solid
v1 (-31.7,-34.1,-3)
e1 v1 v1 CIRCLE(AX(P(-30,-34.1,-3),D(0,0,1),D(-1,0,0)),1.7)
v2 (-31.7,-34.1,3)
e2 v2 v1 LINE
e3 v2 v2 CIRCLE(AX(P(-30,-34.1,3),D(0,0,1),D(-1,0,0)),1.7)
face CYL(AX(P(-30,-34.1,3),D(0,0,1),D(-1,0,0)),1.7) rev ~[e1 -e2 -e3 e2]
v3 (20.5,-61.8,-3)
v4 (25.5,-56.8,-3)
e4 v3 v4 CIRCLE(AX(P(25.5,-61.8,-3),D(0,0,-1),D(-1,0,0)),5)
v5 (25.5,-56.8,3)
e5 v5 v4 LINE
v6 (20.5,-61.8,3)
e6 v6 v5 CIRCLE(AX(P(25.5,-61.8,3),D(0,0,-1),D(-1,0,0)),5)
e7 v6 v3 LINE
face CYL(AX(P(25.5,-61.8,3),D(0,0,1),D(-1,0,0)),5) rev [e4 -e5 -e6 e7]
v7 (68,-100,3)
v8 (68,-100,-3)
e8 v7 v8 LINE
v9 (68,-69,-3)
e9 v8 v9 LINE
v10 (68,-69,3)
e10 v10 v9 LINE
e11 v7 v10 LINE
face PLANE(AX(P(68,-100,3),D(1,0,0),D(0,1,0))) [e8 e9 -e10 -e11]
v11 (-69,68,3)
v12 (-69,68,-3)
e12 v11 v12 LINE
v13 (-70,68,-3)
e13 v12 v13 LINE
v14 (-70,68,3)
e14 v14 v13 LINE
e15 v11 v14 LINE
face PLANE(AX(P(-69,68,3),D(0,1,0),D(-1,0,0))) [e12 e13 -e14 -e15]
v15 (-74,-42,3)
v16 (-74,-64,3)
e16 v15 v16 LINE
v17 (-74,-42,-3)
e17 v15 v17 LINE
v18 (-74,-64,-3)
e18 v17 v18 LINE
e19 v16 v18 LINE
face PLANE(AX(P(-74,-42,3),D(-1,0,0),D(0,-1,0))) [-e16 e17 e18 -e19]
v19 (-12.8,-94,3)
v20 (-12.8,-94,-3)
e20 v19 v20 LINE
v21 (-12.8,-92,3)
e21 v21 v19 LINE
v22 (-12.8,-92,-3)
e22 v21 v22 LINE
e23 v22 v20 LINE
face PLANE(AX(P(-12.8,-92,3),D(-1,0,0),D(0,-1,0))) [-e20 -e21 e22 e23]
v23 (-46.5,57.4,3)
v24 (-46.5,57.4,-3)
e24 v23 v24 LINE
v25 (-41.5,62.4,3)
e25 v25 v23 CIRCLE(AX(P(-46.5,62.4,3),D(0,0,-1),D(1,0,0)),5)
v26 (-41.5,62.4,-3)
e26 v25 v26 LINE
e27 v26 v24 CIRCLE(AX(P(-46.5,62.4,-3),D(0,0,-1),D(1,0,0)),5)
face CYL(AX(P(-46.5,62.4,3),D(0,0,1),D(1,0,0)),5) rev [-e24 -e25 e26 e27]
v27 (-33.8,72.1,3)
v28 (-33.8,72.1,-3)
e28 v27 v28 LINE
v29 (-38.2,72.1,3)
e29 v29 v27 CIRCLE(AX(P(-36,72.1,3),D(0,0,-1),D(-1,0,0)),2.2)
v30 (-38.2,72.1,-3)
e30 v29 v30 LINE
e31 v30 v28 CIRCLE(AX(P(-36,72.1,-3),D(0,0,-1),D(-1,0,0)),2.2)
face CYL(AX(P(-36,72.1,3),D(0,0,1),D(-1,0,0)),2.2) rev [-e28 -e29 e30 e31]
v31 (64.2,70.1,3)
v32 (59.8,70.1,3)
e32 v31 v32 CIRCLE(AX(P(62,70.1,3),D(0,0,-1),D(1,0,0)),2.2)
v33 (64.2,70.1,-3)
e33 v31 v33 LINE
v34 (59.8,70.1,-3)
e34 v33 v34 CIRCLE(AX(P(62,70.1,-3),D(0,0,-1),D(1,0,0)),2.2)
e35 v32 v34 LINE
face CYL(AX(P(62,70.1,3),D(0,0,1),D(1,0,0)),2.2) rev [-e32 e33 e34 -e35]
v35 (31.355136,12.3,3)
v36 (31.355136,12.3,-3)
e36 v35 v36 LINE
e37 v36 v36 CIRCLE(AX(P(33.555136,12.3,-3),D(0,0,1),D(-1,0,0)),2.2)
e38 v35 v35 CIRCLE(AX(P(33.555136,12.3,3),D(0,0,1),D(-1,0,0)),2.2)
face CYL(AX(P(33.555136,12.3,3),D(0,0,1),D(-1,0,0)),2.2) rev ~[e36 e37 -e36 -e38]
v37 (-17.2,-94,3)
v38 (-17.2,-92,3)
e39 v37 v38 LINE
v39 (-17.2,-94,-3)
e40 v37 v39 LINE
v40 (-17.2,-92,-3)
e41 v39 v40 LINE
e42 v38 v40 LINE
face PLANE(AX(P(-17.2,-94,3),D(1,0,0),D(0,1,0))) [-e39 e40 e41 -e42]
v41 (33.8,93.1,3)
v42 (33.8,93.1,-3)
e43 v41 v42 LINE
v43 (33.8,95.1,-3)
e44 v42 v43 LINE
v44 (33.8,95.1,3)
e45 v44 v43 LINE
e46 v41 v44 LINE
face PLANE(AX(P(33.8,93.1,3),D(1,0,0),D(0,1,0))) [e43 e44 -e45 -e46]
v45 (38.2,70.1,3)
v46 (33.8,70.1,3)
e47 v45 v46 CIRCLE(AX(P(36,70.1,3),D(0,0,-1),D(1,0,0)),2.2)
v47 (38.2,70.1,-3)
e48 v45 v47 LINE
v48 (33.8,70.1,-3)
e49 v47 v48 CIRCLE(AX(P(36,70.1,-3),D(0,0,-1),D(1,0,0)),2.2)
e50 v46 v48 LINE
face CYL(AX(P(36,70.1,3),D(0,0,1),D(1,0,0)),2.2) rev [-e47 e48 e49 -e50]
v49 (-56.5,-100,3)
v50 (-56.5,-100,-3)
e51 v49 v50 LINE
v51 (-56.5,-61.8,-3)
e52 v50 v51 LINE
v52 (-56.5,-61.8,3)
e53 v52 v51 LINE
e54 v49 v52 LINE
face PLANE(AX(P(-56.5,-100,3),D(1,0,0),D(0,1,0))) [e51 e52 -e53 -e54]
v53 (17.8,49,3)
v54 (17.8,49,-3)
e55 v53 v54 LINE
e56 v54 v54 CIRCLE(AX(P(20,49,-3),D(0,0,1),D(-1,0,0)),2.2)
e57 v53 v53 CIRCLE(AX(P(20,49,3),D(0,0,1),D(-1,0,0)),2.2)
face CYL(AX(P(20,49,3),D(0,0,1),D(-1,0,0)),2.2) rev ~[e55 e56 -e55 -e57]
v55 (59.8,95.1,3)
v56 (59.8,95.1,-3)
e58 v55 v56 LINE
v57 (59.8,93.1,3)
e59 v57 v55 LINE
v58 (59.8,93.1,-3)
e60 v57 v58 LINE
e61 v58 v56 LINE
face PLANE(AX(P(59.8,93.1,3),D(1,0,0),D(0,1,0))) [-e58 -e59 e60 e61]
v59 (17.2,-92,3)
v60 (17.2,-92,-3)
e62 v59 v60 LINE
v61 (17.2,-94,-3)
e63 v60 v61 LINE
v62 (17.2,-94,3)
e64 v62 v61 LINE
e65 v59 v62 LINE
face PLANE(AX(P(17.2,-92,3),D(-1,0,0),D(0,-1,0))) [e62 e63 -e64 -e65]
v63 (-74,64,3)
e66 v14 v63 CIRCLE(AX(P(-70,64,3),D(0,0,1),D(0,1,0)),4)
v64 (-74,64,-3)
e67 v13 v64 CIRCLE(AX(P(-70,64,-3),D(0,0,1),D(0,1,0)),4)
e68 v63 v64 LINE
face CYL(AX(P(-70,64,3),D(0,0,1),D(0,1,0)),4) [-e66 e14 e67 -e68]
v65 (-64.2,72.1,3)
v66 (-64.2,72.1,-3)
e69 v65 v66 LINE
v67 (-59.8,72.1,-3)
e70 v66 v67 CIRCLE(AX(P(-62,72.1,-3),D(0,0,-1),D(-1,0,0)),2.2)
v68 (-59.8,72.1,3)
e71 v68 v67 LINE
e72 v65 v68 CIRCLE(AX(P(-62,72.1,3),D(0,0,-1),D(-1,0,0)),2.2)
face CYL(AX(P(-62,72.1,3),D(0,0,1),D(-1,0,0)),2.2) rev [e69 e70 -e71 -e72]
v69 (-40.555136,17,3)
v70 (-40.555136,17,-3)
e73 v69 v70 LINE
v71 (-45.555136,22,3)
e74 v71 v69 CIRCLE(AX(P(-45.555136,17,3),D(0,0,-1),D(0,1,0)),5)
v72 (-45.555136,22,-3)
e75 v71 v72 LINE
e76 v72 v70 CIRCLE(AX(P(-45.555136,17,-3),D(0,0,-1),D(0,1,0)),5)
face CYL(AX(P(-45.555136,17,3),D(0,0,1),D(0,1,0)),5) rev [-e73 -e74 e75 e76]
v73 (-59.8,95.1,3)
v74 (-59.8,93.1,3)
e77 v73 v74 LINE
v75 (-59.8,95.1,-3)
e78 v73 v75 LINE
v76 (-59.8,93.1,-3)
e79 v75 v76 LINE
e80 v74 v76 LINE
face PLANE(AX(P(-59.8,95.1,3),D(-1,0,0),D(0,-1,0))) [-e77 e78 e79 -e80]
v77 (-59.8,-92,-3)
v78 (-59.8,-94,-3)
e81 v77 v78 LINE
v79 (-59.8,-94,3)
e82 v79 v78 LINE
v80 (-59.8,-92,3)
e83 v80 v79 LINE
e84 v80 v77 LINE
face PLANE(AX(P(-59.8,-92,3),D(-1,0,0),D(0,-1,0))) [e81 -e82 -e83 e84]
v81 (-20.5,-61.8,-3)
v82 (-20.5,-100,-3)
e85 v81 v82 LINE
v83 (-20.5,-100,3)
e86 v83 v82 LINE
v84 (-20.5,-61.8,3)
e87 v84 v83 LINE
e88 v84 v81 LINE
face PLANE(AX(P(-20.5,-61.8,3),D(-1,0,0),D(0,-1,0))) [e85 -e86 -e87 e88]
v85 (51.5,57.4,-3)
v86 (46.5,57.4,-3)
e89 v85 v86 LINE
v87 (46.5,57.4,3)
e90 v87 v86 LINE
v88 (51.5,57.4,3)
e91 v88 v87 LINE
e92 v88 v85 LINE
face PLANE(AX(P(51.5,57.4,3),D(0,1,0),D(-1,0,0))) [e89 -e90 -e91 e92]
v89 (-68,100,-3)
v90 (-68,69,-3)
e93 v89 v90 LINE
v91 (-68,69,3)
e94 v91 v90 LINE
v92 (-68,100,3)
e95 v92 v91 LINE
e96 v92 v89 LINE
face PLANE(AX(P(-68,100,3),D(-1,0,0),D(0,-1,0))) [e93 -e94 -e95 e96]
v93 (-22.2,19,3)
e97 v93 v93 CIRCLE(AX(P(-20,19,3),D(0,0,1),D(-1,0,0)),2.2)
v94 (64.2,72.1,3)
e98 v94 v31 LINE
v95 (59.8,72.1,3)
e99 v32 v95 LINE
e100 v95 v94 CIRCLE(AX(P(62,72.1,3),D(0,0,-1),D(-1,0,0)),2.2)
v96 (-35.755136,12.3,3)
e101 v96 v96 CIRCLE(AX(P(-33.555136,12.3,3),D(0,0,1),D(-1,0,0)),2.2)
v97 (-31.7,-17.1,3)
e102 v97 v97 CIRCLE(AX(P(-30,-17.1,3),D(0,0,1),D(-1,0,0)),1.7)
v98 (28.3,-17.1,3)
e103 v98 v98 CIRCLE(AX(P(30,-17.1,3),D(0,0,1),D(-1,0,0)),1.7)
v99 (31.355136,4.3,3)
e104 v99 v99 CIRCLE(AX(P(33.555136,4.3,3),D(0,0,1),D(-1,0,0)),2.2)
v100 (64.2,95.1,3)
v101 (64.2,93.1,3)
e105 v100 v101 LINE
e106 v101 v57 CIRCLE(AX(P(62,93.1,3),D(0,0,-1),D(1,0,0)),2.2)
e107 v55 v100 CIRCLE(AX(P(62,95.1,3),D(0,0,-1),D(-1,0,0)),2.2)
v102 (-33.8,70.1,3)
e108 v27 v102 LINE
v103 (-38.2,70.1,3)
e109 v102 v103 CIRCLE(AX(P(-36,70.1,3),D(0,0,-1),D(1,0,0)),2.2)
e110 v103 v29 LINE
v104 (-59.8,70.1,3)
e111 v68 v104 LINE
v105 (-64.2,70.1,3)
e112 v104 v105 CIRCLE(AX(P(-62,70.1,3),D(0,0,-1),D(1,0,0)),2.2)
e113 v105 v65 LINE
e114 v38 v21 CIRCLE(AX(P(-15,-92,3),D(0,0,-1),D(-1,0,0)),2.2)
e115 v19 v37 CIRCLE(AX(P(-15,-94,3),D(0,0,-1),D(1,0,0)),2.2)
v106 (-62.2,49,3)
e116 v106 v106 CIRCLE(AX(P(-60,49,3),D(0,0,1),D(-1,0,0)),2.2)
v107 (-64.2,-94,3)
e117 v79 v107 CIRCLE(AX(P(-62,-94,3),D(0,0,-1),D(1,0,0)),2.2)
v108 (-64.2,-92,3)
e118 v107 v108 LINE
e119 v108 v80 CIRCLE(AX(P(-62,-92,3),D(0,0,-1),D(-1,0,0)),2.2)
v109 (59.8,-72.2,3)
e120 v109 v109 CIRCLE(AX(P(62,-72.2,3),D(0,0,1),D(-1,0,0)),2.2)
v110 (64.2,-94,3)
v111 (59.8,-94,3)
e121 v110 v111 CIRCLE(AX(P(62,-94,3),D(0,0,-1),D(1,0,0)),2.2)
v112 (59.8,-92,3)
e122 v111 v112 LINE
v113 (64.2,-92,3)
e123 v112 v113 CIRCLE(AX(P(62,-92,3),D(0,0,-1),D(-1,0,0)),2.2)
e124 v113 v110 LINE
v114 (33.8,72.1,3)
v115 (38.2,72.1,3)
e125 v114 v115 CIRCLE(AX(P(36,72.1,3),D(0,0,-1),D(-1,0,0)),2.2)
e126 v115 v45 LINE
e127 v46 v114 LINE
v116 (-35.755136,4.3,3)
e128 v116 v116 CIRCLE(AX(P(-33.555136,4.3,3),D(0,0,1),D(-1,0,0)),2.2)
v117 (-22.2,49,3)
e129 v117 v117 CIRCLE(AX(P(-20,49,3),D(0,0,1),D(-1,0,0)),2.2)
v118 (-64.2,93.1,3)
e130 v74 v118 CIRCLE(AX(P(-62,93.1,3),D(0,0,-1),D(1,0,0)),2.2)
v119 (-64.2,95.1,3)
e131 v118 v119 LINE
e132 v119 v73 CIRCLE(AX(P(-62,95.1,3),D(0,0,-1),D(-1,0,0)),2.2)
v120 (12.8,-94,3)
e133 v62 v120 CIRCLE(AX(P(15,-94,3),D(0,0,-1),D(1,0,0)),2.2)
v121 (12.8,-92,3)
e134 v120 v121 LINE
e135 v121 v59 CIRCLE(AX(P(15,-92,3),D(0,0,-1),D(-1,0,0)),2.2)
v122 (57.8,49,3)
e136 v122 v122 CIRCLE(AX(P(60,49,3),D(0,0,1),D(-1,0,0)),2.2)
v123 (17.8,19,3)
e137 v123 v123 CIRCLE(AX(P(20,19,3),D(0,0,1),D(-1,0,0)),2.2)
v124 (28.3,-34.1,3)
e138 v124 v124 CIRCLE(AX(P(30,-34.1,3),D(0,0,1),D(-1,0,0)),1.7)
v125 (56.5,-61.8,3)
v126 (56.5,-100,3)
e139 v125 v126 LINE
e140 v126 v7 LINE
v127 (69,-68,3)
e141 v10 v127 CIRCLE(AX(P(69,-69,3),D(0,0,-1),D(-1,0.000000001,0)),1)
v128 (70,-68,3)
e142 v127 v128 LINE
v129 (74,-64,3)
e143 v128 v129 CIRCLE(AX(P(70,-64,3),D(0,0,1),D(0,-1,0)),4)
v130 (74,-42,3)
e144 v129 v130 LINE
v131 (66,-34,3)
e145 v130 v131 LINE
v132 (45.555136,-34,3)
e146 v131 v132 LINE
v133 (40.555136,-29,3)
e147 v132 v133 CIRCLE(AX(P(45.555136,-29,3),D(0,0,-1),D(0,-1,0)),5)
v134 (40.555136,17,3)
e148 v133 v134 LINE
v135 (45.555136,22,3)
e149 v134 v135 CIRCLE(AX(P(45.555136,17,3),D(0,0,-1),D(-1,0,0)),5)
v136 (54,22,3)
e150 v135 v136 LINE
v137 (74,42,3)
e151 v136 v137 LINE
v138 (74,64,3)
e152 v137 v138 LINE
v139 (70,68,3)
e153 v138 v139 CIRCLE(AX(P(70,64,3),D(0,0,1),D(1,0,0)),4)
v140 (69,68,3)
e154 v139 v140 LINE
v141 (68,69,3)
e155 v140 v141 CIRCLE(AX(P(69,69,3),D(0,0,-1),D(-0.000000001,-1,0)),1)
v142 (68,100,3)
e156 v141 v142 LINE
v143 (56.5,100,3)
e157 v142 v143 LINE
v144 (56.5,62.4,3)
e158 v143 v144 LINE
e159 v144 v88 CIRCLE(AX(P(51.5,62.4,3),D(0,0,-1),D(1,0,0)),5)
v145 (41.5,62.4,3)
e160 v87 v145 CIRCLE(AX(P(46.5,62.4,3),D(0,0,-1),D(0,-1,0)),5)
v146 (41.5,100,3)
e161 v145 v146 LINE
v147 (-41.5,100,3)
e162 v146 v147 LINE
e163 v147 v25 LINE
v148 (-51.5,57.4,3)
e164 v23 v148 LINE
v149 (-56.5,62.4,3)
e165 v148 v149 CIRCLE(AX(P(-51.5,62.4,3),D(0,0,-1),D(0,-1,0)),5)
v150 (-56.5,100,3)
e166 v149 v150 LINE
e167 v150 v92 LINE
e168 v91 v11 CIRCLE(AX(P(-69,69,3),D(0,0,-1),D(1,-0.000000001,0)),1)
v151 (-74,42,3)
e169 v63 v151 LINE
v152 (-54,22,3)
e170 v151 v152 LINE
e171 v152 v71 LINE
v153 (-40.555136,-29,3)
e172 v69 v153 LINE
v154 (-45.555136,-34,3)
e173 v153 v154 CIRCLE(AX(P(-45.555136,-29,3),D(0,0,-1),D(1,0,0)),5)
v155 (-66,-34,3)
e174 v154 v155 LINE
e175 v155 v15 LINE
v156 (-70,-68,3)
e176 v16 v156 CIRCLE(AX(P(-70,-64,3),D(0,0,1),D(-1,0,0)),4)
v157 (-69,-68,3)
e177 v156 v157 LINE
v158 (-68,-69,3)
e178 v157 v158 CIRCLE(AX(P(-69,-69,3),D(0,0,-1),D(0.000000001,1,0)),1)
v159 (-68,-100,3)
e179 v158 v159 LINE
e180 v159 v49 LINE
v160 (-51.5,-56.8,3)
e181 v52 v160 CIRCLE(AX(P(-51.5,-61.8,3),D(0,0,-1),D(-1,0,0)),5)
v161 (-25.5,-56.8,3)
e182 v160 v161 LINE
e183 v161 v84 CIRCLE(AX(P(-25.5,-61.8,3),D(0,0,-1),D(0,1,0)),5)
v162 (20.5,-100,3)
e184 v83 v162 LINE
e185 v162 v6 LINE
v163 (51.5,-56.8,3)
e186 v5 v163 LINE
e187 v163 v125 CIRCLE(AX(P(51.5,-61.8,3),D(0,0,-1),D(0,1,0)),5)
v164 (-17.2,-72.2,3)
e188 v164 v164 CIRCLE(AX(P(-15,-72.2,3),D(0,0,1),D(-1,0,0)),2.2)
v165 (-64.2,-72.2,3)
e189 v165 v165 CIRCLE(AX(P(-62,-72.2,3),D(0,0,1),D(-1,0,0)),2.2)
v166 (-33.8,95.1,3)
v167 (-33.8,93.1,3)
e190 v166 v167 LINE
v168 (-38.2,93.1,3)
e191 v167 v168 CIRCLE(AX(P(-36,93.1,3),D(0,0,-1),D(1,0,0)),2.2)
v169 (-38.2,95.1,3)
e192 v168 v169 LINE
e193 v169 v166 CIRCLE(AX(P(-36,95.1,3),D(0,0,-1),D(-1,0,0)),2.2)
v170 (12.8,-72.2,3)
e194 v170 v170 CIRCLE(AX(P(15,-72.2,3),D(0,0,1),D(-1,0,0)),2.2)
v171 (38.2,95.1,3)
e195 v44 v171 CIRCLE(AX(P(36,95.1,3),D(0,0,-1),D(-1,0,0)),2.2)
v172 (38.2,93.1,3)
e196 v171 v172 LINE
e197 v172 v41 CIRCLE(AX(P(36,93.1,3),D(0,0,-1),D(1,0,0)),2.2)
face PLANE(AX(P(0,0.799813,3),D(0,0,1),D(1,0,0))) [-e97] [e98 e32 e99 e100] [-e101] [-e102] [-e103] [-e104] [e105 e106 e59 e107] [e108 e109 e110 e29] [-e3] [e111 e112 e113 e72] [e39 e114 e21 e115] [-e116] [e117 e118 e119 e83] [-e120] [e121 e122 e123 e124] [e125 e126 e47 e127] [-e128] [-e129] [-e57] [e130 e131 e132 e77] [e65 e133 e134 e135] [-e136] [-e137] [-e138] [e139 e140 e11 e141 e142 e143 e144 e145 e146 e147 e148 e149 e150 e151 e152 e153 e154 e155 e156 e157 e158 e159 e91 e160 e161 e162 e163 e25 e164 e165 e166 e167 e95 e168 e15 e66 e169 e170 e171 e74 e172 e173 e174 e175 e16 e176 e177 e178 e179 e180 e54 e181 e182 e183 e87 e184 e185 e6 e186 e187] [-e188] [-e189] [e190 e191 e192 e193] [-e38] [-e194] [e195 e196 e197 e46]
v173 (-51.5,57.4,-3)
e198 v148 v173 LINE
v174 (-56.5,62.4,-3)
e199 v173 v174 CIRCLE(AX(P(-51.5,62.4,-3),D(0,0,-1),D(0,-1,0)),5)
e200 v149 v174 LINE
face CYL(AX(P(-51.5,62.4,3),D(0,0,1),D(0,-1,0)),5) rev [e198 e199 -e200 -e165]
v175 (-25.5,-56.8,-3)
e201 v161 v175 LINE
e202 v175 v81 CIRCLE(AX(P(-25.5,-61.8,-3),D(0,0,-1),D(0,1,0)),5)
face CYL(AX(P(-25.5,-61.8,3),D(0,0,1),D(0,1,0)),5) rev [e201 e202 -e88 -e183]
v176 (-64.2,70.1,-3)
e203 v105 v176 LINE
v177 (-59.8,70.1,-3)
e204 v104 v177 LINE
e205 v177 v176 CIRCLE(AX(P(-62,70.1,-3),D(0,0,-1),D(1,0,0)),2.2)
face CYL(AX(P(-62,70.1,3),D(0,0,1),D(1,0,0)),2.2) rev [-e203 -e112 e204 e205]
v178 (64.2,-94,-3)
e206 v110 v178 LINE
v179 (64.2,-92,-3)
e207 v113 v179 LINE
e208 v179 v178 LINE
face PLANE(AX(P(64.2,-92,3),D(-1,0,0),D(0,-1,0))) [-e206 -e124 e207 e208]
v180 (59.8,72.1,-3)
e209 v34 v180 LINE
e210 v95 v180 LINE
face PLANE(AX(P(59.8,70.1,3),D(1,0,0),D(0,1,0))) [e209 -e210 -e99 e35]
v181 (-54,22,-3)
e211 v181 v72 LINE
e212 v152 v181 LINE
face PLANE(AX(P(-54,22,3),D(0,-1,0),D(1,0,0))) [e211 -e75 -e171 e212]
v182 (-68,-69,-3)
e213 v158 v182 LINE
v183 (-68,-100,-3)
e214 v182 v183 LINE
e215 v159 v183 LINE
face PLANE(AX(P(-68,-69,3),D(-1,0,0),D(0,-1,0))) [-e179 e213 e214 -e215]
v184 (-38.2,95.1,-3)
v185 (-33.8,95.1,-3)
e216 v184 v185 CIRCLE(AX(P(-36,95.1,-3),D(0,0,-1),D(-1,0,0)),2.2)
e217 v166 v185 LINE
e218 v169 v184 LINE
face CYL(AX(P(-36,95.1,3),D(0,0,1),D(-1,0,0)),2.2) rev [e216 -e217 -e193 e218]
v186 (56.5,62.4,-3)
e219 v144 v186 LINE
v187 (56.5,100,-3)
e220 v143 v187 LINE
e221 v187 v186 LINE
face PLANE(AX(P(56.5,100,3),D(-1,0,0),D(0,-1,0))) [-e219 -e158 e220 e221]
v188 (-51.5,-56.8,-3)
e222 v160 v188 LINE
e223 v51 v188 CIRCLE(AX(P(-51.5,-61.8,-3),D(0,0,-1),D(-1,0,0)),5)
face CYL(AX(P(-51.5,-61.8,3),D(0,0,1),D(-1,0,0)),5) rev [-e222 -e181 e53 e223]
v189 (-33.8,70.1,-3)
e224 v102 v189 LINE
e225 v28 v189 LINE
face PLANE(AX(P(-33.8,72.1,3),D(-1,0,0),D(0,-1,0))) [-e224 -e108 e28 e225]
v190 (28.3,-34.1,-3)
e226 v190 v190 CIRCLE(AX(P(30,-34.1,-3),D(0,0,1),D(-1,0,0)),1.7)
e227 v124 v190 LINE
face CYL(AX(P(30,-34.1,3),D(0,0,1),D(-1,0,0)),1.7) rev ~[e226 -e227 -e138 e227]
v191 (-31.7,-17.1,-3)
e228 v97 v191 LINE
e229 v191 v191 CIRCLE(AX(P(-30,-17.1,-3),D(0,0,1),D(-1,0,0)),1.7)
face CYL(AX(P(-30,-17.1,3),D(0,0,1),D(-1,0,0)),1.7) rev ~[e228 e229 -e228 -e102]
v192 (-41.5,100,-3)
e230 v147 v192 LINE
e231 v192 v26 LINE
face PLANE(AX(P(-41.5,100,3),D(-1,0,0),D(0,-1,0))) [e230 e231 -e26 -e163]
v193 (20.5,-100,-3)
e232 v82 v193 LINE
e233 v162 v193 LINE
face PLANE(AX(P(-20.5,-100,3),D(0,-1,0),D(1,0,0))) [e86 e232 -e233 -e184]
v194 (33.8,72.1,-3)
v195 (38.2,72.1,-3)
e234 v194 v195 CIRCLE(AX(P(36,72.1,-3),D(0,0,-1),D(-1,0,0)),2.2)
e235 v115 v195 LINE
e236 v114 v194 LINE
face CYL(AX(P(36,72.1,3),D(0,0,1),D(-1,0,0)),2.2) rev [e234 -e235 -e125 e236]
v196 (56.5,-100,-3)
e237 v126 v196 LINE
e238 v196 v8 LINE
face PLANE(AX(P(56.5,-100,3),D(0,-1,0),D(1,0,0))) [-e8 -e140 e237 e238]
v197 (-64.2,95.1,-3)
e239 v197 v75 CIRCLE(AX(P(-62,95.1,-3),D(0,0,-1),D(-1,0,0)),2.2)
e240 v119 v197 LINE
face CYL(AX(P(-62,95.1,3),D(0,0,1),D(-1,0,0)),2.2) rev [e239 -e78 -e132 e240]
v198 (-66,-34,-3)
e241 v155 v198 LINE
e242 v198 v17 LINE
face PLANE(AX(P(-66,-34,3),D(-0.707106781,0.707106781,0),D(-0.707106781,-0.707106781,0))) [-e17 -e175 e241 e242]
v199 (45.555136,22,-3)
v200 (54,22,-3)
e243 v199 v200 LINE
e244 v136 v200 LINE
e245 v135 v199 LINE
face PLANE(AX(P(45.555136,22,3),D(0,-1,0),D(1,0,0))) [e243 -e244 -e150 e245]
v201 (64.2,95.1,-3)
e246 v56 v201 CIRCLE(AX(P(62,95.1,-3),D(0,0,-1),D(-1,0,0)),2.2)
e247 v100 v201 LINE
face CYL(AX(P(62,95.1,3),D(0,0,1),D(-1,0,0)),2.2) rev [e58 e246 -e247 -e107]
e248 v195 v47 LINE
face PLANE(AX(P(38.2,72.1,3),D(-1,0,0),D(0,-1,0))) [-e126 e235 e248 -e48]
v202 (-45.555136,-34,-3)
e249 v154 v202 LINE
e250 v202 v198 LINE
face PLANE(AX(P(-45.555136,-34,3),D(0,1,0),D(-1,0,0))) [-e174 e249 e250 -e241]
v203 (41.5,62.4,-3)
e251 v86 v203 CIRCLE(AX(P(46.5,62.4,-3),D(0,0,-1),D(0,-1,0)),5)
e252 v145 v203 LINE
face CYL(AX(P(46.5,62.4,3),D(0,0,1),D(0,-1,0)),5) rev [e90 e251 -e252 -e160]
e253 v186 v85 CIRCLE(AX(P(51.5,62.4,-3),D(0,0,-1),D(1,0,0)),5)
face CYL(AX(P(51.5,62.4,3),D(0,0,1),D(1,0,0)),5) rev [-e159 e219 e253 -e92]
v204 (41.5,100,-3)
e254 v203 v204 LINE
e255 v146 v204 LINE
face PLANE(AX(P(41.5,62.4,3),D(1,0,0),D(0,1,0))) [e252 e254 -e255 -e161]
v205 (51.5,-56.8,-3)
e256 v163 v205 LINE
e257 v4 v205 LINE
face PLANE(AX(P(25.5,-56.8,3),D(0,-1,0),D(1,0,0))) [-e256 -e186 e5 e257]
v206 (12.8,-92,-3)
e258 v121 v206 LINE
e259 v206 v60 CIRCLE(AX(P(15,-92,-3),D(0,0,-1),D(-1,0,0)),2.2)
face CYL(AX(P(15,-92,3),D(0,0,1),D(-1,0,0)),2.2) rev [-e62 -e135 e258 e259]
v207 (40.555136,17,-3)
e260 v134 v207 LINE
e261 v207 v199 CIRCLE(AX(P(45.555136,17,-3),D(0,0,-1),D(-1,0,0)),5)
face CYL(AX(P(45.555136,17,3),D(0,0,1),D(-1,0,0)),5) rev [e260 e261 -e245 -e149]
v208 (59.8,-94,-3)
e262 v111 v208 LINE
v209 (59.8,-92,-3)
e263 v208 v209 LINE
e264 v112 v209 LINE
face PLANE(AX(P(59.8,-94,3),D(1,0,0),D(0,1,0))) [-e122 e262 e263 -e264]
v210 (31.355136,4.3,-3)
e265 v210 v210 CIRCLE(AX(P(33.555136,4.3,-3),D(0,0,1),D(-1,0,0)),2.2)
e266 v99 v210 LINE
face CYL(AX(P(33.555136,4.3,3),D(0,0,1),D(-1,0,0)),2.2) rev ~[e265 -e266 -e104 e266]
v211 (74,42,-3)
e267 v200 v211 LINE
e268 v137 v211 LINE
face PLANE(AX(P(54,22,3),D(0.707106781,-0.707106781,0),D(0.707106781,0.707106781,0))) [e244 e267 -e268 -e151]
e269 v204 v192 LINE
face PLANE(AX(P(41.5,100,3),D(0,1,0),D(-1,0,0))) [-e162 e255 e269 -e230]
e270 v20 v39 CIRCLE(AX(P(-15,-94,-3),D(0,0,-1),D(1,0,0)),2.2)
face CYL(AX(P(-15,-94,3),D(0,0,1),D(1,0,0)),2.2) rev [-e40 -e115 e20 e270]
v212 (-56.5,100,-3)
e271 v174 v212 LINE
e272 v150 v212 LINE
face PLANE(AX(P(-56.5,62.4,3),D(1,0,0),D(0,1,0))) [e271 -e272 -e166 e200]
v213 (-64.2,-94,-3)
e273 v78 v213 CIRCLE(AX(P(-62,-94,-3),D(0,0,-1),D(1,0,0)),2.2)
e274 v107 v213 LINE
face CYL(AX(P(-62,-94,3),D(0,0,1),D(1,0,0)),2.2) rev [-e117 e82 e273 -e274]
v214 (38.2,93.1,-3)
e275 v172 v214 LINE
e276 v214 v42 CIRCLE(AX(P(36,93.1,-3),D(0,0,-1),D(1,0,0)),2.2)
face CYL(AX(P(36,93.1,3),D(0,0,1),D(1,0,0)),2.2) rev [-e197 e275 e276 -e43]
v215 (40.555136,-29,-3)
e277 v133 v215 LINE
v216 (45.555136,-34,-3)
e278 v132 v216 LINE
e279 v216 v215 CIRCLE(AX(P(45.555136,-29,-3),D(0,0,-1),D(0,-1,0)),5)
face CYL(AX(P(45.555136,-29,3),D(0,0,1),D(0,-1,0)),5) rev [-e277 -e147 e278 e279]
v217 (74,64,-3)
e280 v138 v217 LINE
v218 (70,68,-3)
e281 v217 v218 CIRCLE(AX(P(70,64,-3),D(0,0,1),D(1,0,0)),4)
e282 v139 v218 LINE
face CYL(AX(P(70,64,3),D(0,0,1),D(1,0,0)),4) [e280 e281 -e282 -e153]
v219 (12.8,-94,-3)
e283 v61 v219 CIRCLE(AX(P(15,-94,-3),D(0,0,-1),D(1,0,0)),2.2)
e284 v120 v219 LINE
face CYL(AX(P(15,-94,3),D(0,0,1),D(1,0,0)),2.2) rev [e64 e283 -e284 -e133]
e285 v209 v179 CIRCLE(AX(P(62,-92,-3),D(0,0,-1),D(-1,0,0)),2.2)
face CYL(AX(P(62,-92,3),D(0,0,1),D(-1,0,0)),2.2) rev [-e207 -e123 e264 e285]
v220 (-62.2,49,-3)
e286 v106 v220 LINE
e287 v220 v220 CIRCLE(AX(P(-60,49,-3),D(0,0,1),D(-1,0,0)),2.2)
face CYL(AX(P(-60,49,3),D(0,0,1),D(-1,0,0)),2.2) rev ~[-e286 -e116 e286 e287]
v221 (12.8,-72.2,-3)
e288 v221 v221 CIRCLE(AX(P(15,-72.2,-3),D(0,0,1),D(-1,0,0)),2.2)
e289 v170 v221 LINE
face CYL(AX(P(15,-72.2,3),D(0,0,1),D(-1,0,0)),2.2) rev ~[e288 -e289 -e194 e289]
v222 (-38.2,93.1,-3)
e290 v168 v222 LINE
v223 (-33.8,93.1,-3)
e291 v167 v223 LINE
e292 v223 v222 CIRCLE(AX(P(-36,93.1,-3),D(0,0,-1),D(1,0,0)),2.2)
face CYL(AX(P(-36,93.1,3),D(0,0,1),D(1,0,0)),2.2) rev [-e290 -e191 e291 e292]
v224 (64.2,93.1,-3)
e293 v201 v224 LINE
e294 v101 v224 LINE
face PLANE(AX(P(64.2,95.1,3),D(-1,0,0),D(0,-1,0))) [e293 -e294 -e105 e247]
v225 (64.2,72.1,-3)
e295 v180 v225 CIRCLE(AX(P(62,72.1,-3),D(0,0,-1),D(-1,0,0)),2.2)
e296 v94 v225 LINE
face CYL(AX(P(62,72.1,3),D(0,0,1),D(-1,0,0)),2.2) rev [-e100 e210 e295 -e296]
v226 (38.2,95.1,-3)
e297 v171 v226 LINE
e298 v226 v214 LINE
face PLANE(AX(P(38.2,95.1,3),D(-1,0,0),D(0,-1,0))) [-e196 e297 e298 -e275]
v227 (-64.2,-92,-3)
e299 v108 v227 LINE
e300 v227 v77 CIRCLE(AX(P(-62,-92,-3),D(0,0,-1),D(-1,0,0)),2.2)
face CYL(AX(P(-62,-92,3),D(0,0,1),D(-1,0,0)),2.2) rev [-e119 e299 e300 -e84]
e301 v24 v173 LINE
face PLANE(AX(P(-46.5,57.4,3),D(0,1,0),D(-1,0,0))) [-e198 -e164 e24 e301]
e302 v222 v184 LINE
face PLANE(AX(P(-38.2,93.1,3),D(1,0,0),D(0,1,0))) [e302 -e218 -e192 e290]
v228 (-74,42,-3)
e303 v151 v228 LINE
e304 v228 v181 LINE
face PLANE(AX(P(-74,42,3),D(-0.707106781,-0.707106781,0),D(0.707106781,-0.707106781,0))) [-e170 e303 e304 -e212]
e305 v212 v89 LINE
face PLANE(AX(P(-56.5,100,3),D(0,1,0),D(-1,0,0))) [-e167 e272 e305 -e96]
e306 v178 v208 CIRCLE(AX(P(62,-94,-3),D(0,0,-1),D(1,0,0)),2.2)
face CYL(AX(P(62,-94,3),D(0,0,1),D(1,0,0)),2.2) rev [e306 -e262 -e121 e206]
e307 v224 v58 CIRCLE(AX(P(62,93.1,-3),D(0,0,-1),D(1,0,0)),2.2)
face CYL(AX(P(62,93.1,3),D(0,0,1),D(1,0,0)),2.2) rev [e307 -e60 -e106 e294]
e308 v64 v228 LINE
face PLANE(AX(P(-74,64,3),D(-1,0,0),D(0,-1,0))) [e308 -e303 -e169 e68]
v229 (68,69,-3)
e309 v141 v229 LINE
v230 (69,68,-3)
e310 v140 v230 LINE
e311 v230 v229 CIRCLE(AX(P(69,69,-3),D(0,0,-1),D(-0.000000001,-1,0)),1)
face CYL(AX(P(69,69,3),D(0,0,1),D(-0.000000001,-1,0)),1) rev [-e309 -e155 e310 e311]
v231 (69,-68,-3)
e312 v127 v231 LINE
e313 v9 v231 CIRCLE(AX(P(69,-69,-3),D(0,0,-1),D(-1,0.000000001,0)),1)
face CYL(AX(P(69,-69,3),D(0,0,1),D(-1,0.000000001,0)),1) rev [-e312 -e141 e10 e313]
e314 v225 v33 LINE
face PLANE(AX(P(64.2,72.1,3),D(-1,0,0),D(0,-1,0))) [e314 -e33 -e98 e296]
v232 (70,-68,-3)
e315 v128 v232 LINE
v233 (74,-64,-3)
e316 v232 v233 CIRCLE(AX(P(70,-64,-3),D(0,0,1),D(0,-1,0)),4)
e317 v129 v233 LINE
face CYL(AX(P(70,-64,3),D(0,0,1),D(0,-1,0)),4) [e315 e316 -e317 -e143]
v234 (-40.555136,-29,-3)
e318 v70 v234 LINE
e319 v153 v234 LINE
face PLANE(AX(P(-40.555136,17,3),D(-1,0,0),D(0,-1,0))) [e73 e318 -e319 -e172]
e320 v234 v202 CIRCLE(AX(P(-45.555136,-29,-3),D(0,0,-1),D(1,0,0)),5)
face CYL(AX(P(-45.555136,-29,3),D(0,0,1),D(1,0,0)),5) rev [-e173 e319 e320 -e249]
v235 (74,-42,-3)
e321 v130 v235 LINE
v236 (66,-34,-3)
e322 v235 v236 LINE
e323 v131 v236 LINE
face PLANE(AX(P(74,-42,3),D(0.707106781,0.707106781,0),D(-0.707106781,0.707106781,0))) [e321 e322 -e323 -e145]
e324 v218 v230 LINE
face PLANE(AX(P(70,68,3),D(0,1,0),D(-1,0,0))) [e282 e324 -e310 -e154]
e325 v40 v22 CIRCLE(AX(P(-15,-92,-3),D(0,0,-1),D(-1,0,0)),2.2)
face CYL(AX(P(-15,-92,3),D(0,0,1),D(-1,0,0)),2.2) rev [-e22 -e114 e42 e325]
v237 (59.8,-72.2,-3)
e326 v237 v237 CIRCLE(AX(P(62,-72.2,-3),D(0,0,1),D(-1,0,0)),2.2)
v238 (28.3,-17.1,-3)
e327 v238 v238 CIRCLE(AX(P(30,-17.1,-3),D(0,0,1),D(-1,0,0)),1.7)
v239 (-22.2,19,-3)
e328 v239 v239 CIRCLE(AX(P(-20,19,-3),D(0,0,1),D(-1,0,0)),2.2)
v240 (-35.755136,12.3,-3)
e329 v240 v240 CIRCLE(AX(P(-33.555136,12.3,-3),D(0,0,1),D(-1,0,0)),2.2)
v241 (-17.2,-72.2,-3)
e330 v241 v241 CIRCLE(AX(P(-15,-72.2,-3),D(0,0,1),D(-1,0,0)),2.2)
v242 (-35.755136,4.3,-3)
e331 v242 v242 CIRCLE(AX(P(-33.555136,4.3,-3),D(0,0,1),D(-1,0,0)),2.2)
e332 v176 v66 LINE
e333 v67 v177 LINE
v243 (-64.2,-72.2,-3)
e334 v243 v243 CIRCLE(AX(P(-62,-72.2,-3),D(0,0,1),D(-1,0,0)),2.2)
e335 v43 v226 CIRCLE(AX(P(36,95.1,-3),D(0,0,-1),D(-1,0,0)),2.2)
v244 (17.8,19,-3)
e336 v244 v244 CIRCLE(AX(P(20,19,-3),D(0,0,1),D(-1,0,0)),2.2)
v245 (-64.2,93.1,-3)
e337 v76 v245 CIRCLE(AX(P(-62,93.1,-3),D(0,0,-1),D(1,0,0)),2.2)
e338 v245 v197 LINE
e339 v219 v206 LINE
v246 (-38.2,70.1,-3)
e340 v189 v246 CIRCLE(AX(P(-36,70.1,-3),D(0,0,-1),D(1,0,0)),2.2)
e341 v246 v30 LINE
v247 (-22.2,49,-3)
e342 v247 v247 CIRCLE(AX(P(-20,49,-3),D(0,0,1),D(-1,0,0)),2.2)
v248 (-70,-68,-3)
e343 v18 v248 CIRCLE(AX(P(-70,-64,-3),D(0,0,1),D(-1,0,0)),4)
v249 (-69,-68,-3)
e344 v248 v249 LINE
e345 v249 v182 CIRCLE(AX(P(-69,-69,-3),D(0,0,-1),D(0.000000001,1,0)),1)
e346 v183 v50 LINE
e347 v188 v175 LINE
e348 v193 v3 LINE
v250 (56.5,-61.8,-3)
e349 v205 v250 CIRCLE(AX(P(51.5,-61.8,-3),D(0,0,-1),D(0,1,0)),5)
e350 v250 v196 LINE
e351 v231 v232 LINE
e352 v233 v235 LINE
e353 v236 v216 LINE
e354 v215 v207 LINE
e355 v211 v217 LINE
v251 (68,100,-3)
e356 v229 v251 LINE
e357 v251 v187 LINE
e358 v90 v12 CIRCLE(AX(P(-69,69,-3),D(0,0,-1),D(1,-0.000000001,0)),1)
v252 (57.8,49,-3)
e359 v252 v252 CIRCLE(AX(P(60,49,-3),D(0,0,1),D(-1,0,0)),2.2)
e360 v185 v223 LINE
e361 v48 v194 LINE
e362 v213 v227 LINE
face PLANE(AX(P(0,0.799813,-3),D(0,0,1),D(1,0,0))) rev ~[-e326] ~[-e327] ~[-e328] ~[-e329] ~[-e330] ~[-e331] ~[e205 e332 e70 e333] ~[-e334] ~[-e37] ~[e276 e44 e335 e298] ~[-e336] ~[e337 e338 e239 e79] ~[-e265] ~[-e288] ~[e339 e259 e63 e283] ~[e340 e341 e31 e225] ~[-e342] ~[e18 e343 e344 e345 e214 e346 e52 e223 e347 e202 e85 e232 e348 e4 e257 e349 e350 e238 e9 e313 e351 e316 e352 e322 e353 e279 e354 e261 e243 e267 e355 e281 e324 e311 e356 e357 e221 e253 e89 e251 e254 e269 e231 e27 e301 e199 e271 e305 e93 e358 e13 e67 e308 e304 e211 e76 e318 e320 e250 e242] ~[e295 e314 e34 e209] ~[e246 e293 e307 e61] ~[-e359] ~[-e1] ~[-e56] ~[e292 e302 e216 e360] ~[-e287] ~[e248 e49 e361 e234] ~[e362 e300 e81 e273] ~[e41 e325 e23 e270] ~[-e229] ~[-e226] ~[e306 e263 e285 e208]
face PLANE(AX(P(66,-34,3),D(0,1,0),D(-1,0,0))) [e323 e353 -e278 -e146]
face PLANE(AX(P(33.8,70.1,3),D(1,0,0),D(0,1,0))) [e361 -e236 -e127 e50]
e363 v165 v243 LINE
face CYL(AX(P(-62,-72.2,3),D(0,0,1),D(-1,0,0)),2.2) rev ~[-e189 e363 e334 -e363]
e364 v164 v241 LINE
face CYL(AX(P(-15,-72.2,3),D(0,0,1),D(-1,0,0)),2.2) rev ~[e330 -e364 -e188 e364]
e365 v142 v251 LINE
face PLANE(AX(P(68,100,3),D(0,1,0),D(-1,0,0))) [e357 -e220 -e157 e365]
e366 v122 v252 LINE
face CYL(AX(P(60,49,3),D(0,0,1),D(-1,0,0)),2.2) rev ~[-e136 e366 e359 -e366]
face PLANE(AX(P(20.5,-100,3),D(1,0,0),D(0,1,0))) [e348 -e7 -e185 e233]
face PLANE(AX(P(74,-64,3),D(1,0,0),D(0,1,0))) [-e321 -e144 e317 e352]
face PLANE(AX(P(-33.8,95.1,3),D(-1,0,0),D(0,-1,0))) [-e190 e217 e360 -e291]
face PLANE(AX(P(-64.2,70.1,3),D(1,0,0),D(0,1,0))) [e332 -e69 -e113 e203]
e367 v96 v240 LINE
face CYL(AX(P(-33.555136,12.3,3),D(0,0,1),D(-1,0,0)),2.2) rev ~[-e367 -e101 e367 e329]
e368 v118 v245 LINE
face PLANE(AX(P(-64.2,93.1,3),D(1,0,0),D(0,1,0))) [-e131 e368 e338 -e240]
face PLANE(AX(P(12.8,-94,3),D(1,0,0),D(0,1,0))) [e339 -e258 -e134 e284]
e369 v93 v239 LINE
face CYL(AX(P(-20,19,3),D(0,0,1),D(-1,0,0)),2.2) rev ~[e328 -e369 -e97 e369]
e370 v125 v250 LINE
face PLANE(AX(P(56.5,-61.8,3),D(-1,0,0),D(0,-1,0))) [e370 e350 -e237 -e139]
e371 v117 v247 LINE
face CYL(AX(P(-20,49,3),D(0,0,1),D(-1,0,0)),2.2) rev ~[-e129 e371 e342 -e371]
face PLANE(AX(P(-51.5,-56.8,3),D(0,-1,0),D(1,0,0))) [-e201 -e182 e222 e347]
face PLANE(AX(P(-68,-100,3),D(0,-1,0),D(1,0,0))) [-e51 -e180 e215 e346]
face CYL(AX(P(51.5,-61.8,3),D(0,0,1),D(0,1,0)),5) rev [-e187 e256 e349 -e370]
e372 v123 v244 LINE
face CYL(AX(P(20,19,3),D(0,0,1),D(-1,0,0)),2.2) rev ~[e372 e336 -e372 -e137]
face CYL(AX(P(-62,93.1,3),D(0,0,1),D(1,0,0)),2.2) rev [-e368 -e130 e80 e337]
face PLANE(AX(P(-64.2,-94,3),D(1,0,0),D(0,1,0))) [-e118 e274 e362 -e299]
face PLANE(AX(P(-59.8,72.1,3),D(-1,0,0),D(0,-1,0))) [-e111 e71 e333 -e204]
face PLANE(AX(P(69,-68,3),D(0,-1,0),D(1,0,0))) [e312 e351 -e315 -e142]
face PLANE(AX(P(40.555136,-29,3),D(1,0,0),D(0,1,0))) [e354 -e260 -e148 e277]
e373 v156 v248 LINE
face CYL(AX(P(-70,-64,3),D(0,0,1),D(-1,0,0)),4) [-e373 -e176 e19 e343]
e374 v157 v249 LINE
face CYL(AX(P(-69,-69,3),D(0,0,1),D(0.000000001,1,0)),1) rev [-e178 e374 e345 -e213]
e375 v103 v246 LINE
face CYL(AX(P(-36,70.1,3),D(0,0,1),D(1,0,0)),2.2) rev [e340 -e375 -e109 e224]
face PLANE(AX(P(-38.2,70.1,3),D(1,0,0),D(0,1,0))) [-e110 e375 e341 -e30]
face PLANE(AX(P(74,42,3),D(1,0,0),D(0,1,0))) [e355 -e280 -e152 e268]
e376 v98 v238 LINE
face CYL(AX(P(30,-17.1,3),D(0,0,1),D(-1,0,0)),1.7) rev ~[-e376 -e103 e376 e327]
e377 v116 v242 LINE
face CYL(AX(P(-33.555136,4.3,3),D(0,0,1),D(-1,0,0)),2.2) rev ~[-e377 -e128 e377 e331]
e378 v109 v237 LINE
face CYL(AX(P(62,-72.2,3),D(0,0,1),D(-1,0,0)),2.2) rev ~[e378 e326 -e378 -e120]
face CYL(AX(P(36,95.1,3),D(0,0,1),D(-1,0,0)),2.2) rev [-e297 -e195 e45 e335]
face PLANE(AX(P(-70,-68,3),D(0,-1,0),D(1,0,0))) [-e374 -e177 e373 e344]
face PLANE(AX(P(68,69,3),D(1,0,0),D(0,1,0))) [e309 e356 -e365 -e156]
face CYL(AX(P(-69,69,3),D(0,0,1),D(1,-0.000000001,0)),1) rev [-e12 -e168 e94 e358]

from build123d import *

# Parameters (mm, degrees)
SKETCH1_R           = 2.2
SKETCH1_R_2         = 1.7
BOSS_EXTRUDE1_DEPTH = 6


with BuildPart() as part:
    # Sketch1 → Boss-Extrude1 (new body)
    with BuildSketch(Plane.XY.offset(3)):
        with BuildLine():
            Line((40.555136163, -29), (40.555136163, 17))
            ThreePointArc((40.555136163, 17), (42.019602257, 20.535533906), (45.555136163, 22))
            Line((45.555136163, 22), (54, 22))
            Line((54, 22), (74, 42))
            Line((74, 42), (74, 64))
            ThreePointArc((74, 64), (72.828427125, 66.828427125), (70, 68))
            Line((70, 68), (69, 68))
            ThreePointArc((69, 68), (68.292893219, 68.292893219), (68, 69))
            Line((68, 69), (68, 100))
            Line((68, 100), (56.5, 100))
            Line((56.5, 100), (56.5, 62.4))
            ThreePointArc((56.5, 62.4), (55.035533906, 58.864466094), (51.5, 57.4))
            Line((51.5, 57.4), (46.5, 57.4))
            ThreePointArc((46.5, 57.4), (42.964466094, 58.864466094), (41.5, 62.4))
            Line((41.5, 62.4), (41.5, 100))
            Line((41.5, 100), (-41.5, 100))
            Line((-41.5, 100), (-41.5, 62.4))
            ThreePointArc((-41.5, 62.4), (-42.964466094, 58.864466094), (-46.5, 57.4))
            Line((-46.5, 57.4), (-51.5, 57.4))
            ThreePointArc((-51.5, 57.4), (-55.035533906, 58.864466094), (-56.5, 62.4))
            Line((-56.5, 62.4), (-56.5, 100))
            Line((-56.5, 100), (-68, 100))
            Line((-68, 100), (-68, 69))
            ThreePointArc((-68, 69), (-68.292893219, 68.292893219), (-69, 68))
            Line((-69, 68), (-70, 68))
            ThreePointArc((-70, 68), (-72.828427125, 66.828427125), (-74, 64))
            Line((-74, 64), (-74, 42))
            Line((-74, 42), (-54, 22))
            Line((-54, 22), (-45.555136163, 22))
            ThreePointArc((-45.555136163, 22), (-42.019602257, 20.535533906), (-40.555136163, 17))
            Line((-40.555136163, 17), (-40.555136163, -29))
            ThreePointArc((-40.555136163, -29), (-42.019602257, -32.535533906), (-45.555136163, -34))
            Line((-45.555136163, -34), (-66, -34))
            Line((-66, -34), (-74, -42))
            Line((-74, -42), (-74, -64))
            ThreePointArc((-74, -64), (-72.828427125, -66.828427125), (-70, -68))
            Line((-70, -68), (-69, -68))
            ThreePointArc((-69, -68), (-68.292893219, -68.292893219), (-68, -69))
            Line((-68, -69), (-68, -100))
            Line((-68, -100), (-56.5, -100))
            Line((-56.5, -100), (-56.5, -61.8))
            ThreePointArc((-56.5, -61.8), (-55.035533906, -58.264466094), (-51.5, -56.8))
            Line((-51.5, -56.8), (-25.5, -56.8))
            ThreePointArc((-25.5, -56.8), (-21.964466094, -58.264466094), (-20.5, -61.8))
            Line((-20.5, -61.8), (-20.5, -100))
            Line((-20.5, -100), (20.5, -100))
            Line((20.5, -100), (20.5, -61.8))
            ThreePointArc((20.5, -61.8), (21.964466094, -58.264466094), (25.5, -56.8))
            Line((25.5, -56.8), (51.5, -56.8))
            ThreePointArc((51.5, -56.8), (55.035533906, -58.264466094), (56.5, -61.8))
            Line((56.5, -61.8), (56.5, -100))
            Line((56.5, -100), (68, -100))
            Line((68, -100), (68, -69))
            ThreePointArc((68, -69), (68.292893219, -68.292893219), (69, -68))
            Line((69, -68), (70, -68))
            ThreePointArc((70, -68), (72.828427125, -66.828427125), (74, -64))
            Line((74, -64), (74, -42))
            Line((74, -42), (66, -34))
            Line((66, -34), (45.555136163, -34))
            ThreePointArc((45.555136163, -34), (42.019602257, -32.535533906), (40.555136163, -29))
        make_face()
        with Locations(Location((-20, 19, 0), (0, 0, 180))):
            Circle(SKETCH1_R, mode=Mode.SUBTRACT)
        with Locations(Location((60, 49, 0), (0, 0, 180))):
            Circle(SKETCH1_R, mode=Mode.SUBTRACT)
        with Locations(Location((20, 49, 0), (0, 0, 180))):
            Circle(SKETCH1_R, mode=Mode.SUBTRACT)
        with Locations(Location((33.555136163, 4.3, 0), (0, 0, 180))):
            Circle(SKETCH1_R, mode=Mode.SUBTRACT)
        with Locations(Location((30, -17.1, 0), (0, 0, 180))):
            Circle(SKETCH1_R_2, mode=Mode.SUBTRACT)
        with Locations(Location((-33.555136163, 12.3, 0), (0, 0, 180))):
            Circle(SKETCH1_R, mode=Mode.SUBTRACT)
        with Locations(Location((-30, -34.1, 0), (0, 0, 180))):
            Circle(SKETCH1_R_2, mode=Mode.SUBTRACT)
        with Locations(Location((62, -72.2, 0), (0, 0, 180))):
            Circle(SKETCH1_R, mode=Mode.SUBTRACT)
        with Locations(Location((-62, -72.2, 0), (0, 0, 180))):
            Circle(SKETCH1_R, mode=Mode.SUBTRACT)
        with Locations(Location((-15, -72.2, 0), (0, 0, 180))):
            Circle(SKETCH1_R, mode=Mode.SUBTRACT)
        with Locations(Location((15, -72.2, 0), (0, 0, 180))):
            Circle(SKETCH1_R, mode=Mode.SUBTRACT)
        with Locations(Location((-30, -17.1, 0), (0, 0, 180))):
            Circle(SKETCH1_R_2, mode=Mode.SUBTRACT)
        with Locations(Location((-33.555136163, 4.3, 0), (0, 0, 180))):
            Circle(SKETCH1_R, mode=Mode.SUBTRACT)
        with Locations(Location((30, -34.1, 0), (0, 0, 180))):
            Circle(SKETCH1_R_2, mode=Mode.SUBTRACT)
        with Locations(Location((33.555136163, 12.3, 0), (0, 0, 180))):
            Circle(SKETCH1_R, mode=Mode.SUBTRACT)
        with Locations(Location((20, 19, 0), (0, 0, 180))):
            Circle(SKETCH1_R, mode=Mode.SUBTRACT)
        with Locations(Location((-20, 49, 0), (0, 0, 180))):
            Circle(SKETCH1_R, mode=Mode.SUBTRACT)
        with Locations(Location((-60, 49, 0), (0, 0, 180))):
            Circle(SKETCH1_R, mode=Mode.SUBTRACT)
        with BuildLine():
            Line((38.2, 95.1), (38.2, 93.1))
            ThreePointArc((38.2, 93.1), (36, 90.9), (33.8, 93.1))
            Line((33.8, 93.1), (33.8, 95.1))
            ThreePointArc((33.8, 95.1), (36, 97.3), (38.2, 95.1))
        make_face(mode=Mode.SUBTRACT)
        with BuildLine():
            Line((64.2, 72.1), (64.2, 70.1))
            ThreePointArc((64.2, 70.1), (62, 67.9), (59.8, 70.1))
            Line((59.8, 70.1), (59.8, 72.1))
            ThreePointArc((59.8, 72.1), (62, 74.3), (64.2, 72.1))
        make_face(mode=Mode.SUBTRACT)
        with BuildLine():
            Line((-38.2, 70.1), (-38.2, 72.1))
            ThreePointArc((-38.2, 72.1), (-36, 74.3), (-33.8, 72.1))
            Line((-33.8, 72.1), (-33.8, 70.1))
            ThreePointArc((-33.8, 70.1), (-36, 67.9), (-38.2, 70.1))
        make_face(mode=Mode.SUBTRACT)
        with BuildLine():
            Line((-64.2, 93.1), (-64.2, 95.1))
            ThreePointArc((-64.2, 95.1), (-62, 97.3), (-59.8, 95.1))
            Line((-59.8, 95.1), (-59.8, 93.1))
            ThreePointArc((-59.8, 93.1), (-62, 90.9), (-64.2, 93.1))
        make_face(mode=Mode.SUBTRACT)
        with BuildLine():
            Line((12.8, -94), (12.8, -92))
            ThreePointArc((12.8, -92), (15, -89.8), (17.2, -92))
            Line((17.2, -92), (17.2, -94))
            ThreePointArc((17.2, -94), (15, -96.2), (12.8, -94))
        make_face(mode=Mode.SUBTRACT)
        with BuildLine():
            Line((-12.8, -92), (-12.8, -94))
            ThreePointArc((-12.8, -94), (-15, -96.2), (-17.2, -94))
            Line((-17.2, -94), (-17.2, -92))
            ThreePointArc((-17.2, -92), (-15, -89.8), (-12.8, -92))
        make_face(mode=Mode.SUBTRACT)
        with BuildLine():
            Line((-59.8, -92), (-59.8, -94))
            ThreePointArc((-59.8, -94), (-62, -96.2), (-64.2, -94))
            Line((-64.2, -94), (-64.2, -92))
            ThreePointArc((-64.2, -92), (-62, -89.8), (-59.8, -92))
        make_face(mode=Mode.SUBTRACT)
        with BuildLine():
            Line((59.8, -94), (59.8, -92))
            ThreePointArc((59.8, -92), (62, -89.8), (64.2, -92))
            Line((64.2, -92), (64.2, -94))
            ThreePointArc((64.2, -94), (62, -96.2), (59.8, -94))
        make_face(mode=Mode.SUBTRACT)
        with BuildLine():
            Line((-64.2, 70.1), (-64.2, 72.1))
            ThreePointArc((-64.2, 72.1), (-62, 74.3), (-59.8, 72.1))
            Line((-59.8, 72.1), (-59.8, 70.1))
            ThreePointArc((-59.8, 70.1), (-62, 67.9), (-64.2, 70.1))
        make_face(mode=Mode.SUBTRACT)
        with BuildLine():
            Line((-38.2, 93.1), (-38.2, 95.1))
            ThreePointArc((-38.2, 95.1), (-36, 97.3), (-33.8, 95.1))
            Line((-33.8, 95.1), (-33.8, 93.1))
            ThreePointArc((-33.8, 93.1), (-36, 90.9), (-38.2, 93.1))
        make_face(mode=Mode.SUBTRACT)
        with BuildLine():
            Line((64.2, 95.1), (64.2, 93.1))
            ThreePointArc((64.2, 93.1), (62, 90.9), (59.8, 93.1))
            Line((59.8, 93.1), (59.8, 95.1))
            ThreePointArc((59.8, 95.1), (62, 97.3), (64.2, 95.1))
        make_face(mode=Mode.SUBTRACT)
        with BuildLine():
            Line((38.2, 72.1), (38.2, 70.1))
            ThreePointArc((38.2, 70.1), (36, 67.9), (33.8, 70.1))
            Line((33.8, 70.1), (33.8, 72.1))
            ThreePointArc((33.8, 72.1), (36, 74.3), (38.2, 72.1))
        make_face(mode=Mode.SUBTRACT)
    extrude(amount=-BOSS_EXTRUDE1_DEPTH)


solid = part.part
